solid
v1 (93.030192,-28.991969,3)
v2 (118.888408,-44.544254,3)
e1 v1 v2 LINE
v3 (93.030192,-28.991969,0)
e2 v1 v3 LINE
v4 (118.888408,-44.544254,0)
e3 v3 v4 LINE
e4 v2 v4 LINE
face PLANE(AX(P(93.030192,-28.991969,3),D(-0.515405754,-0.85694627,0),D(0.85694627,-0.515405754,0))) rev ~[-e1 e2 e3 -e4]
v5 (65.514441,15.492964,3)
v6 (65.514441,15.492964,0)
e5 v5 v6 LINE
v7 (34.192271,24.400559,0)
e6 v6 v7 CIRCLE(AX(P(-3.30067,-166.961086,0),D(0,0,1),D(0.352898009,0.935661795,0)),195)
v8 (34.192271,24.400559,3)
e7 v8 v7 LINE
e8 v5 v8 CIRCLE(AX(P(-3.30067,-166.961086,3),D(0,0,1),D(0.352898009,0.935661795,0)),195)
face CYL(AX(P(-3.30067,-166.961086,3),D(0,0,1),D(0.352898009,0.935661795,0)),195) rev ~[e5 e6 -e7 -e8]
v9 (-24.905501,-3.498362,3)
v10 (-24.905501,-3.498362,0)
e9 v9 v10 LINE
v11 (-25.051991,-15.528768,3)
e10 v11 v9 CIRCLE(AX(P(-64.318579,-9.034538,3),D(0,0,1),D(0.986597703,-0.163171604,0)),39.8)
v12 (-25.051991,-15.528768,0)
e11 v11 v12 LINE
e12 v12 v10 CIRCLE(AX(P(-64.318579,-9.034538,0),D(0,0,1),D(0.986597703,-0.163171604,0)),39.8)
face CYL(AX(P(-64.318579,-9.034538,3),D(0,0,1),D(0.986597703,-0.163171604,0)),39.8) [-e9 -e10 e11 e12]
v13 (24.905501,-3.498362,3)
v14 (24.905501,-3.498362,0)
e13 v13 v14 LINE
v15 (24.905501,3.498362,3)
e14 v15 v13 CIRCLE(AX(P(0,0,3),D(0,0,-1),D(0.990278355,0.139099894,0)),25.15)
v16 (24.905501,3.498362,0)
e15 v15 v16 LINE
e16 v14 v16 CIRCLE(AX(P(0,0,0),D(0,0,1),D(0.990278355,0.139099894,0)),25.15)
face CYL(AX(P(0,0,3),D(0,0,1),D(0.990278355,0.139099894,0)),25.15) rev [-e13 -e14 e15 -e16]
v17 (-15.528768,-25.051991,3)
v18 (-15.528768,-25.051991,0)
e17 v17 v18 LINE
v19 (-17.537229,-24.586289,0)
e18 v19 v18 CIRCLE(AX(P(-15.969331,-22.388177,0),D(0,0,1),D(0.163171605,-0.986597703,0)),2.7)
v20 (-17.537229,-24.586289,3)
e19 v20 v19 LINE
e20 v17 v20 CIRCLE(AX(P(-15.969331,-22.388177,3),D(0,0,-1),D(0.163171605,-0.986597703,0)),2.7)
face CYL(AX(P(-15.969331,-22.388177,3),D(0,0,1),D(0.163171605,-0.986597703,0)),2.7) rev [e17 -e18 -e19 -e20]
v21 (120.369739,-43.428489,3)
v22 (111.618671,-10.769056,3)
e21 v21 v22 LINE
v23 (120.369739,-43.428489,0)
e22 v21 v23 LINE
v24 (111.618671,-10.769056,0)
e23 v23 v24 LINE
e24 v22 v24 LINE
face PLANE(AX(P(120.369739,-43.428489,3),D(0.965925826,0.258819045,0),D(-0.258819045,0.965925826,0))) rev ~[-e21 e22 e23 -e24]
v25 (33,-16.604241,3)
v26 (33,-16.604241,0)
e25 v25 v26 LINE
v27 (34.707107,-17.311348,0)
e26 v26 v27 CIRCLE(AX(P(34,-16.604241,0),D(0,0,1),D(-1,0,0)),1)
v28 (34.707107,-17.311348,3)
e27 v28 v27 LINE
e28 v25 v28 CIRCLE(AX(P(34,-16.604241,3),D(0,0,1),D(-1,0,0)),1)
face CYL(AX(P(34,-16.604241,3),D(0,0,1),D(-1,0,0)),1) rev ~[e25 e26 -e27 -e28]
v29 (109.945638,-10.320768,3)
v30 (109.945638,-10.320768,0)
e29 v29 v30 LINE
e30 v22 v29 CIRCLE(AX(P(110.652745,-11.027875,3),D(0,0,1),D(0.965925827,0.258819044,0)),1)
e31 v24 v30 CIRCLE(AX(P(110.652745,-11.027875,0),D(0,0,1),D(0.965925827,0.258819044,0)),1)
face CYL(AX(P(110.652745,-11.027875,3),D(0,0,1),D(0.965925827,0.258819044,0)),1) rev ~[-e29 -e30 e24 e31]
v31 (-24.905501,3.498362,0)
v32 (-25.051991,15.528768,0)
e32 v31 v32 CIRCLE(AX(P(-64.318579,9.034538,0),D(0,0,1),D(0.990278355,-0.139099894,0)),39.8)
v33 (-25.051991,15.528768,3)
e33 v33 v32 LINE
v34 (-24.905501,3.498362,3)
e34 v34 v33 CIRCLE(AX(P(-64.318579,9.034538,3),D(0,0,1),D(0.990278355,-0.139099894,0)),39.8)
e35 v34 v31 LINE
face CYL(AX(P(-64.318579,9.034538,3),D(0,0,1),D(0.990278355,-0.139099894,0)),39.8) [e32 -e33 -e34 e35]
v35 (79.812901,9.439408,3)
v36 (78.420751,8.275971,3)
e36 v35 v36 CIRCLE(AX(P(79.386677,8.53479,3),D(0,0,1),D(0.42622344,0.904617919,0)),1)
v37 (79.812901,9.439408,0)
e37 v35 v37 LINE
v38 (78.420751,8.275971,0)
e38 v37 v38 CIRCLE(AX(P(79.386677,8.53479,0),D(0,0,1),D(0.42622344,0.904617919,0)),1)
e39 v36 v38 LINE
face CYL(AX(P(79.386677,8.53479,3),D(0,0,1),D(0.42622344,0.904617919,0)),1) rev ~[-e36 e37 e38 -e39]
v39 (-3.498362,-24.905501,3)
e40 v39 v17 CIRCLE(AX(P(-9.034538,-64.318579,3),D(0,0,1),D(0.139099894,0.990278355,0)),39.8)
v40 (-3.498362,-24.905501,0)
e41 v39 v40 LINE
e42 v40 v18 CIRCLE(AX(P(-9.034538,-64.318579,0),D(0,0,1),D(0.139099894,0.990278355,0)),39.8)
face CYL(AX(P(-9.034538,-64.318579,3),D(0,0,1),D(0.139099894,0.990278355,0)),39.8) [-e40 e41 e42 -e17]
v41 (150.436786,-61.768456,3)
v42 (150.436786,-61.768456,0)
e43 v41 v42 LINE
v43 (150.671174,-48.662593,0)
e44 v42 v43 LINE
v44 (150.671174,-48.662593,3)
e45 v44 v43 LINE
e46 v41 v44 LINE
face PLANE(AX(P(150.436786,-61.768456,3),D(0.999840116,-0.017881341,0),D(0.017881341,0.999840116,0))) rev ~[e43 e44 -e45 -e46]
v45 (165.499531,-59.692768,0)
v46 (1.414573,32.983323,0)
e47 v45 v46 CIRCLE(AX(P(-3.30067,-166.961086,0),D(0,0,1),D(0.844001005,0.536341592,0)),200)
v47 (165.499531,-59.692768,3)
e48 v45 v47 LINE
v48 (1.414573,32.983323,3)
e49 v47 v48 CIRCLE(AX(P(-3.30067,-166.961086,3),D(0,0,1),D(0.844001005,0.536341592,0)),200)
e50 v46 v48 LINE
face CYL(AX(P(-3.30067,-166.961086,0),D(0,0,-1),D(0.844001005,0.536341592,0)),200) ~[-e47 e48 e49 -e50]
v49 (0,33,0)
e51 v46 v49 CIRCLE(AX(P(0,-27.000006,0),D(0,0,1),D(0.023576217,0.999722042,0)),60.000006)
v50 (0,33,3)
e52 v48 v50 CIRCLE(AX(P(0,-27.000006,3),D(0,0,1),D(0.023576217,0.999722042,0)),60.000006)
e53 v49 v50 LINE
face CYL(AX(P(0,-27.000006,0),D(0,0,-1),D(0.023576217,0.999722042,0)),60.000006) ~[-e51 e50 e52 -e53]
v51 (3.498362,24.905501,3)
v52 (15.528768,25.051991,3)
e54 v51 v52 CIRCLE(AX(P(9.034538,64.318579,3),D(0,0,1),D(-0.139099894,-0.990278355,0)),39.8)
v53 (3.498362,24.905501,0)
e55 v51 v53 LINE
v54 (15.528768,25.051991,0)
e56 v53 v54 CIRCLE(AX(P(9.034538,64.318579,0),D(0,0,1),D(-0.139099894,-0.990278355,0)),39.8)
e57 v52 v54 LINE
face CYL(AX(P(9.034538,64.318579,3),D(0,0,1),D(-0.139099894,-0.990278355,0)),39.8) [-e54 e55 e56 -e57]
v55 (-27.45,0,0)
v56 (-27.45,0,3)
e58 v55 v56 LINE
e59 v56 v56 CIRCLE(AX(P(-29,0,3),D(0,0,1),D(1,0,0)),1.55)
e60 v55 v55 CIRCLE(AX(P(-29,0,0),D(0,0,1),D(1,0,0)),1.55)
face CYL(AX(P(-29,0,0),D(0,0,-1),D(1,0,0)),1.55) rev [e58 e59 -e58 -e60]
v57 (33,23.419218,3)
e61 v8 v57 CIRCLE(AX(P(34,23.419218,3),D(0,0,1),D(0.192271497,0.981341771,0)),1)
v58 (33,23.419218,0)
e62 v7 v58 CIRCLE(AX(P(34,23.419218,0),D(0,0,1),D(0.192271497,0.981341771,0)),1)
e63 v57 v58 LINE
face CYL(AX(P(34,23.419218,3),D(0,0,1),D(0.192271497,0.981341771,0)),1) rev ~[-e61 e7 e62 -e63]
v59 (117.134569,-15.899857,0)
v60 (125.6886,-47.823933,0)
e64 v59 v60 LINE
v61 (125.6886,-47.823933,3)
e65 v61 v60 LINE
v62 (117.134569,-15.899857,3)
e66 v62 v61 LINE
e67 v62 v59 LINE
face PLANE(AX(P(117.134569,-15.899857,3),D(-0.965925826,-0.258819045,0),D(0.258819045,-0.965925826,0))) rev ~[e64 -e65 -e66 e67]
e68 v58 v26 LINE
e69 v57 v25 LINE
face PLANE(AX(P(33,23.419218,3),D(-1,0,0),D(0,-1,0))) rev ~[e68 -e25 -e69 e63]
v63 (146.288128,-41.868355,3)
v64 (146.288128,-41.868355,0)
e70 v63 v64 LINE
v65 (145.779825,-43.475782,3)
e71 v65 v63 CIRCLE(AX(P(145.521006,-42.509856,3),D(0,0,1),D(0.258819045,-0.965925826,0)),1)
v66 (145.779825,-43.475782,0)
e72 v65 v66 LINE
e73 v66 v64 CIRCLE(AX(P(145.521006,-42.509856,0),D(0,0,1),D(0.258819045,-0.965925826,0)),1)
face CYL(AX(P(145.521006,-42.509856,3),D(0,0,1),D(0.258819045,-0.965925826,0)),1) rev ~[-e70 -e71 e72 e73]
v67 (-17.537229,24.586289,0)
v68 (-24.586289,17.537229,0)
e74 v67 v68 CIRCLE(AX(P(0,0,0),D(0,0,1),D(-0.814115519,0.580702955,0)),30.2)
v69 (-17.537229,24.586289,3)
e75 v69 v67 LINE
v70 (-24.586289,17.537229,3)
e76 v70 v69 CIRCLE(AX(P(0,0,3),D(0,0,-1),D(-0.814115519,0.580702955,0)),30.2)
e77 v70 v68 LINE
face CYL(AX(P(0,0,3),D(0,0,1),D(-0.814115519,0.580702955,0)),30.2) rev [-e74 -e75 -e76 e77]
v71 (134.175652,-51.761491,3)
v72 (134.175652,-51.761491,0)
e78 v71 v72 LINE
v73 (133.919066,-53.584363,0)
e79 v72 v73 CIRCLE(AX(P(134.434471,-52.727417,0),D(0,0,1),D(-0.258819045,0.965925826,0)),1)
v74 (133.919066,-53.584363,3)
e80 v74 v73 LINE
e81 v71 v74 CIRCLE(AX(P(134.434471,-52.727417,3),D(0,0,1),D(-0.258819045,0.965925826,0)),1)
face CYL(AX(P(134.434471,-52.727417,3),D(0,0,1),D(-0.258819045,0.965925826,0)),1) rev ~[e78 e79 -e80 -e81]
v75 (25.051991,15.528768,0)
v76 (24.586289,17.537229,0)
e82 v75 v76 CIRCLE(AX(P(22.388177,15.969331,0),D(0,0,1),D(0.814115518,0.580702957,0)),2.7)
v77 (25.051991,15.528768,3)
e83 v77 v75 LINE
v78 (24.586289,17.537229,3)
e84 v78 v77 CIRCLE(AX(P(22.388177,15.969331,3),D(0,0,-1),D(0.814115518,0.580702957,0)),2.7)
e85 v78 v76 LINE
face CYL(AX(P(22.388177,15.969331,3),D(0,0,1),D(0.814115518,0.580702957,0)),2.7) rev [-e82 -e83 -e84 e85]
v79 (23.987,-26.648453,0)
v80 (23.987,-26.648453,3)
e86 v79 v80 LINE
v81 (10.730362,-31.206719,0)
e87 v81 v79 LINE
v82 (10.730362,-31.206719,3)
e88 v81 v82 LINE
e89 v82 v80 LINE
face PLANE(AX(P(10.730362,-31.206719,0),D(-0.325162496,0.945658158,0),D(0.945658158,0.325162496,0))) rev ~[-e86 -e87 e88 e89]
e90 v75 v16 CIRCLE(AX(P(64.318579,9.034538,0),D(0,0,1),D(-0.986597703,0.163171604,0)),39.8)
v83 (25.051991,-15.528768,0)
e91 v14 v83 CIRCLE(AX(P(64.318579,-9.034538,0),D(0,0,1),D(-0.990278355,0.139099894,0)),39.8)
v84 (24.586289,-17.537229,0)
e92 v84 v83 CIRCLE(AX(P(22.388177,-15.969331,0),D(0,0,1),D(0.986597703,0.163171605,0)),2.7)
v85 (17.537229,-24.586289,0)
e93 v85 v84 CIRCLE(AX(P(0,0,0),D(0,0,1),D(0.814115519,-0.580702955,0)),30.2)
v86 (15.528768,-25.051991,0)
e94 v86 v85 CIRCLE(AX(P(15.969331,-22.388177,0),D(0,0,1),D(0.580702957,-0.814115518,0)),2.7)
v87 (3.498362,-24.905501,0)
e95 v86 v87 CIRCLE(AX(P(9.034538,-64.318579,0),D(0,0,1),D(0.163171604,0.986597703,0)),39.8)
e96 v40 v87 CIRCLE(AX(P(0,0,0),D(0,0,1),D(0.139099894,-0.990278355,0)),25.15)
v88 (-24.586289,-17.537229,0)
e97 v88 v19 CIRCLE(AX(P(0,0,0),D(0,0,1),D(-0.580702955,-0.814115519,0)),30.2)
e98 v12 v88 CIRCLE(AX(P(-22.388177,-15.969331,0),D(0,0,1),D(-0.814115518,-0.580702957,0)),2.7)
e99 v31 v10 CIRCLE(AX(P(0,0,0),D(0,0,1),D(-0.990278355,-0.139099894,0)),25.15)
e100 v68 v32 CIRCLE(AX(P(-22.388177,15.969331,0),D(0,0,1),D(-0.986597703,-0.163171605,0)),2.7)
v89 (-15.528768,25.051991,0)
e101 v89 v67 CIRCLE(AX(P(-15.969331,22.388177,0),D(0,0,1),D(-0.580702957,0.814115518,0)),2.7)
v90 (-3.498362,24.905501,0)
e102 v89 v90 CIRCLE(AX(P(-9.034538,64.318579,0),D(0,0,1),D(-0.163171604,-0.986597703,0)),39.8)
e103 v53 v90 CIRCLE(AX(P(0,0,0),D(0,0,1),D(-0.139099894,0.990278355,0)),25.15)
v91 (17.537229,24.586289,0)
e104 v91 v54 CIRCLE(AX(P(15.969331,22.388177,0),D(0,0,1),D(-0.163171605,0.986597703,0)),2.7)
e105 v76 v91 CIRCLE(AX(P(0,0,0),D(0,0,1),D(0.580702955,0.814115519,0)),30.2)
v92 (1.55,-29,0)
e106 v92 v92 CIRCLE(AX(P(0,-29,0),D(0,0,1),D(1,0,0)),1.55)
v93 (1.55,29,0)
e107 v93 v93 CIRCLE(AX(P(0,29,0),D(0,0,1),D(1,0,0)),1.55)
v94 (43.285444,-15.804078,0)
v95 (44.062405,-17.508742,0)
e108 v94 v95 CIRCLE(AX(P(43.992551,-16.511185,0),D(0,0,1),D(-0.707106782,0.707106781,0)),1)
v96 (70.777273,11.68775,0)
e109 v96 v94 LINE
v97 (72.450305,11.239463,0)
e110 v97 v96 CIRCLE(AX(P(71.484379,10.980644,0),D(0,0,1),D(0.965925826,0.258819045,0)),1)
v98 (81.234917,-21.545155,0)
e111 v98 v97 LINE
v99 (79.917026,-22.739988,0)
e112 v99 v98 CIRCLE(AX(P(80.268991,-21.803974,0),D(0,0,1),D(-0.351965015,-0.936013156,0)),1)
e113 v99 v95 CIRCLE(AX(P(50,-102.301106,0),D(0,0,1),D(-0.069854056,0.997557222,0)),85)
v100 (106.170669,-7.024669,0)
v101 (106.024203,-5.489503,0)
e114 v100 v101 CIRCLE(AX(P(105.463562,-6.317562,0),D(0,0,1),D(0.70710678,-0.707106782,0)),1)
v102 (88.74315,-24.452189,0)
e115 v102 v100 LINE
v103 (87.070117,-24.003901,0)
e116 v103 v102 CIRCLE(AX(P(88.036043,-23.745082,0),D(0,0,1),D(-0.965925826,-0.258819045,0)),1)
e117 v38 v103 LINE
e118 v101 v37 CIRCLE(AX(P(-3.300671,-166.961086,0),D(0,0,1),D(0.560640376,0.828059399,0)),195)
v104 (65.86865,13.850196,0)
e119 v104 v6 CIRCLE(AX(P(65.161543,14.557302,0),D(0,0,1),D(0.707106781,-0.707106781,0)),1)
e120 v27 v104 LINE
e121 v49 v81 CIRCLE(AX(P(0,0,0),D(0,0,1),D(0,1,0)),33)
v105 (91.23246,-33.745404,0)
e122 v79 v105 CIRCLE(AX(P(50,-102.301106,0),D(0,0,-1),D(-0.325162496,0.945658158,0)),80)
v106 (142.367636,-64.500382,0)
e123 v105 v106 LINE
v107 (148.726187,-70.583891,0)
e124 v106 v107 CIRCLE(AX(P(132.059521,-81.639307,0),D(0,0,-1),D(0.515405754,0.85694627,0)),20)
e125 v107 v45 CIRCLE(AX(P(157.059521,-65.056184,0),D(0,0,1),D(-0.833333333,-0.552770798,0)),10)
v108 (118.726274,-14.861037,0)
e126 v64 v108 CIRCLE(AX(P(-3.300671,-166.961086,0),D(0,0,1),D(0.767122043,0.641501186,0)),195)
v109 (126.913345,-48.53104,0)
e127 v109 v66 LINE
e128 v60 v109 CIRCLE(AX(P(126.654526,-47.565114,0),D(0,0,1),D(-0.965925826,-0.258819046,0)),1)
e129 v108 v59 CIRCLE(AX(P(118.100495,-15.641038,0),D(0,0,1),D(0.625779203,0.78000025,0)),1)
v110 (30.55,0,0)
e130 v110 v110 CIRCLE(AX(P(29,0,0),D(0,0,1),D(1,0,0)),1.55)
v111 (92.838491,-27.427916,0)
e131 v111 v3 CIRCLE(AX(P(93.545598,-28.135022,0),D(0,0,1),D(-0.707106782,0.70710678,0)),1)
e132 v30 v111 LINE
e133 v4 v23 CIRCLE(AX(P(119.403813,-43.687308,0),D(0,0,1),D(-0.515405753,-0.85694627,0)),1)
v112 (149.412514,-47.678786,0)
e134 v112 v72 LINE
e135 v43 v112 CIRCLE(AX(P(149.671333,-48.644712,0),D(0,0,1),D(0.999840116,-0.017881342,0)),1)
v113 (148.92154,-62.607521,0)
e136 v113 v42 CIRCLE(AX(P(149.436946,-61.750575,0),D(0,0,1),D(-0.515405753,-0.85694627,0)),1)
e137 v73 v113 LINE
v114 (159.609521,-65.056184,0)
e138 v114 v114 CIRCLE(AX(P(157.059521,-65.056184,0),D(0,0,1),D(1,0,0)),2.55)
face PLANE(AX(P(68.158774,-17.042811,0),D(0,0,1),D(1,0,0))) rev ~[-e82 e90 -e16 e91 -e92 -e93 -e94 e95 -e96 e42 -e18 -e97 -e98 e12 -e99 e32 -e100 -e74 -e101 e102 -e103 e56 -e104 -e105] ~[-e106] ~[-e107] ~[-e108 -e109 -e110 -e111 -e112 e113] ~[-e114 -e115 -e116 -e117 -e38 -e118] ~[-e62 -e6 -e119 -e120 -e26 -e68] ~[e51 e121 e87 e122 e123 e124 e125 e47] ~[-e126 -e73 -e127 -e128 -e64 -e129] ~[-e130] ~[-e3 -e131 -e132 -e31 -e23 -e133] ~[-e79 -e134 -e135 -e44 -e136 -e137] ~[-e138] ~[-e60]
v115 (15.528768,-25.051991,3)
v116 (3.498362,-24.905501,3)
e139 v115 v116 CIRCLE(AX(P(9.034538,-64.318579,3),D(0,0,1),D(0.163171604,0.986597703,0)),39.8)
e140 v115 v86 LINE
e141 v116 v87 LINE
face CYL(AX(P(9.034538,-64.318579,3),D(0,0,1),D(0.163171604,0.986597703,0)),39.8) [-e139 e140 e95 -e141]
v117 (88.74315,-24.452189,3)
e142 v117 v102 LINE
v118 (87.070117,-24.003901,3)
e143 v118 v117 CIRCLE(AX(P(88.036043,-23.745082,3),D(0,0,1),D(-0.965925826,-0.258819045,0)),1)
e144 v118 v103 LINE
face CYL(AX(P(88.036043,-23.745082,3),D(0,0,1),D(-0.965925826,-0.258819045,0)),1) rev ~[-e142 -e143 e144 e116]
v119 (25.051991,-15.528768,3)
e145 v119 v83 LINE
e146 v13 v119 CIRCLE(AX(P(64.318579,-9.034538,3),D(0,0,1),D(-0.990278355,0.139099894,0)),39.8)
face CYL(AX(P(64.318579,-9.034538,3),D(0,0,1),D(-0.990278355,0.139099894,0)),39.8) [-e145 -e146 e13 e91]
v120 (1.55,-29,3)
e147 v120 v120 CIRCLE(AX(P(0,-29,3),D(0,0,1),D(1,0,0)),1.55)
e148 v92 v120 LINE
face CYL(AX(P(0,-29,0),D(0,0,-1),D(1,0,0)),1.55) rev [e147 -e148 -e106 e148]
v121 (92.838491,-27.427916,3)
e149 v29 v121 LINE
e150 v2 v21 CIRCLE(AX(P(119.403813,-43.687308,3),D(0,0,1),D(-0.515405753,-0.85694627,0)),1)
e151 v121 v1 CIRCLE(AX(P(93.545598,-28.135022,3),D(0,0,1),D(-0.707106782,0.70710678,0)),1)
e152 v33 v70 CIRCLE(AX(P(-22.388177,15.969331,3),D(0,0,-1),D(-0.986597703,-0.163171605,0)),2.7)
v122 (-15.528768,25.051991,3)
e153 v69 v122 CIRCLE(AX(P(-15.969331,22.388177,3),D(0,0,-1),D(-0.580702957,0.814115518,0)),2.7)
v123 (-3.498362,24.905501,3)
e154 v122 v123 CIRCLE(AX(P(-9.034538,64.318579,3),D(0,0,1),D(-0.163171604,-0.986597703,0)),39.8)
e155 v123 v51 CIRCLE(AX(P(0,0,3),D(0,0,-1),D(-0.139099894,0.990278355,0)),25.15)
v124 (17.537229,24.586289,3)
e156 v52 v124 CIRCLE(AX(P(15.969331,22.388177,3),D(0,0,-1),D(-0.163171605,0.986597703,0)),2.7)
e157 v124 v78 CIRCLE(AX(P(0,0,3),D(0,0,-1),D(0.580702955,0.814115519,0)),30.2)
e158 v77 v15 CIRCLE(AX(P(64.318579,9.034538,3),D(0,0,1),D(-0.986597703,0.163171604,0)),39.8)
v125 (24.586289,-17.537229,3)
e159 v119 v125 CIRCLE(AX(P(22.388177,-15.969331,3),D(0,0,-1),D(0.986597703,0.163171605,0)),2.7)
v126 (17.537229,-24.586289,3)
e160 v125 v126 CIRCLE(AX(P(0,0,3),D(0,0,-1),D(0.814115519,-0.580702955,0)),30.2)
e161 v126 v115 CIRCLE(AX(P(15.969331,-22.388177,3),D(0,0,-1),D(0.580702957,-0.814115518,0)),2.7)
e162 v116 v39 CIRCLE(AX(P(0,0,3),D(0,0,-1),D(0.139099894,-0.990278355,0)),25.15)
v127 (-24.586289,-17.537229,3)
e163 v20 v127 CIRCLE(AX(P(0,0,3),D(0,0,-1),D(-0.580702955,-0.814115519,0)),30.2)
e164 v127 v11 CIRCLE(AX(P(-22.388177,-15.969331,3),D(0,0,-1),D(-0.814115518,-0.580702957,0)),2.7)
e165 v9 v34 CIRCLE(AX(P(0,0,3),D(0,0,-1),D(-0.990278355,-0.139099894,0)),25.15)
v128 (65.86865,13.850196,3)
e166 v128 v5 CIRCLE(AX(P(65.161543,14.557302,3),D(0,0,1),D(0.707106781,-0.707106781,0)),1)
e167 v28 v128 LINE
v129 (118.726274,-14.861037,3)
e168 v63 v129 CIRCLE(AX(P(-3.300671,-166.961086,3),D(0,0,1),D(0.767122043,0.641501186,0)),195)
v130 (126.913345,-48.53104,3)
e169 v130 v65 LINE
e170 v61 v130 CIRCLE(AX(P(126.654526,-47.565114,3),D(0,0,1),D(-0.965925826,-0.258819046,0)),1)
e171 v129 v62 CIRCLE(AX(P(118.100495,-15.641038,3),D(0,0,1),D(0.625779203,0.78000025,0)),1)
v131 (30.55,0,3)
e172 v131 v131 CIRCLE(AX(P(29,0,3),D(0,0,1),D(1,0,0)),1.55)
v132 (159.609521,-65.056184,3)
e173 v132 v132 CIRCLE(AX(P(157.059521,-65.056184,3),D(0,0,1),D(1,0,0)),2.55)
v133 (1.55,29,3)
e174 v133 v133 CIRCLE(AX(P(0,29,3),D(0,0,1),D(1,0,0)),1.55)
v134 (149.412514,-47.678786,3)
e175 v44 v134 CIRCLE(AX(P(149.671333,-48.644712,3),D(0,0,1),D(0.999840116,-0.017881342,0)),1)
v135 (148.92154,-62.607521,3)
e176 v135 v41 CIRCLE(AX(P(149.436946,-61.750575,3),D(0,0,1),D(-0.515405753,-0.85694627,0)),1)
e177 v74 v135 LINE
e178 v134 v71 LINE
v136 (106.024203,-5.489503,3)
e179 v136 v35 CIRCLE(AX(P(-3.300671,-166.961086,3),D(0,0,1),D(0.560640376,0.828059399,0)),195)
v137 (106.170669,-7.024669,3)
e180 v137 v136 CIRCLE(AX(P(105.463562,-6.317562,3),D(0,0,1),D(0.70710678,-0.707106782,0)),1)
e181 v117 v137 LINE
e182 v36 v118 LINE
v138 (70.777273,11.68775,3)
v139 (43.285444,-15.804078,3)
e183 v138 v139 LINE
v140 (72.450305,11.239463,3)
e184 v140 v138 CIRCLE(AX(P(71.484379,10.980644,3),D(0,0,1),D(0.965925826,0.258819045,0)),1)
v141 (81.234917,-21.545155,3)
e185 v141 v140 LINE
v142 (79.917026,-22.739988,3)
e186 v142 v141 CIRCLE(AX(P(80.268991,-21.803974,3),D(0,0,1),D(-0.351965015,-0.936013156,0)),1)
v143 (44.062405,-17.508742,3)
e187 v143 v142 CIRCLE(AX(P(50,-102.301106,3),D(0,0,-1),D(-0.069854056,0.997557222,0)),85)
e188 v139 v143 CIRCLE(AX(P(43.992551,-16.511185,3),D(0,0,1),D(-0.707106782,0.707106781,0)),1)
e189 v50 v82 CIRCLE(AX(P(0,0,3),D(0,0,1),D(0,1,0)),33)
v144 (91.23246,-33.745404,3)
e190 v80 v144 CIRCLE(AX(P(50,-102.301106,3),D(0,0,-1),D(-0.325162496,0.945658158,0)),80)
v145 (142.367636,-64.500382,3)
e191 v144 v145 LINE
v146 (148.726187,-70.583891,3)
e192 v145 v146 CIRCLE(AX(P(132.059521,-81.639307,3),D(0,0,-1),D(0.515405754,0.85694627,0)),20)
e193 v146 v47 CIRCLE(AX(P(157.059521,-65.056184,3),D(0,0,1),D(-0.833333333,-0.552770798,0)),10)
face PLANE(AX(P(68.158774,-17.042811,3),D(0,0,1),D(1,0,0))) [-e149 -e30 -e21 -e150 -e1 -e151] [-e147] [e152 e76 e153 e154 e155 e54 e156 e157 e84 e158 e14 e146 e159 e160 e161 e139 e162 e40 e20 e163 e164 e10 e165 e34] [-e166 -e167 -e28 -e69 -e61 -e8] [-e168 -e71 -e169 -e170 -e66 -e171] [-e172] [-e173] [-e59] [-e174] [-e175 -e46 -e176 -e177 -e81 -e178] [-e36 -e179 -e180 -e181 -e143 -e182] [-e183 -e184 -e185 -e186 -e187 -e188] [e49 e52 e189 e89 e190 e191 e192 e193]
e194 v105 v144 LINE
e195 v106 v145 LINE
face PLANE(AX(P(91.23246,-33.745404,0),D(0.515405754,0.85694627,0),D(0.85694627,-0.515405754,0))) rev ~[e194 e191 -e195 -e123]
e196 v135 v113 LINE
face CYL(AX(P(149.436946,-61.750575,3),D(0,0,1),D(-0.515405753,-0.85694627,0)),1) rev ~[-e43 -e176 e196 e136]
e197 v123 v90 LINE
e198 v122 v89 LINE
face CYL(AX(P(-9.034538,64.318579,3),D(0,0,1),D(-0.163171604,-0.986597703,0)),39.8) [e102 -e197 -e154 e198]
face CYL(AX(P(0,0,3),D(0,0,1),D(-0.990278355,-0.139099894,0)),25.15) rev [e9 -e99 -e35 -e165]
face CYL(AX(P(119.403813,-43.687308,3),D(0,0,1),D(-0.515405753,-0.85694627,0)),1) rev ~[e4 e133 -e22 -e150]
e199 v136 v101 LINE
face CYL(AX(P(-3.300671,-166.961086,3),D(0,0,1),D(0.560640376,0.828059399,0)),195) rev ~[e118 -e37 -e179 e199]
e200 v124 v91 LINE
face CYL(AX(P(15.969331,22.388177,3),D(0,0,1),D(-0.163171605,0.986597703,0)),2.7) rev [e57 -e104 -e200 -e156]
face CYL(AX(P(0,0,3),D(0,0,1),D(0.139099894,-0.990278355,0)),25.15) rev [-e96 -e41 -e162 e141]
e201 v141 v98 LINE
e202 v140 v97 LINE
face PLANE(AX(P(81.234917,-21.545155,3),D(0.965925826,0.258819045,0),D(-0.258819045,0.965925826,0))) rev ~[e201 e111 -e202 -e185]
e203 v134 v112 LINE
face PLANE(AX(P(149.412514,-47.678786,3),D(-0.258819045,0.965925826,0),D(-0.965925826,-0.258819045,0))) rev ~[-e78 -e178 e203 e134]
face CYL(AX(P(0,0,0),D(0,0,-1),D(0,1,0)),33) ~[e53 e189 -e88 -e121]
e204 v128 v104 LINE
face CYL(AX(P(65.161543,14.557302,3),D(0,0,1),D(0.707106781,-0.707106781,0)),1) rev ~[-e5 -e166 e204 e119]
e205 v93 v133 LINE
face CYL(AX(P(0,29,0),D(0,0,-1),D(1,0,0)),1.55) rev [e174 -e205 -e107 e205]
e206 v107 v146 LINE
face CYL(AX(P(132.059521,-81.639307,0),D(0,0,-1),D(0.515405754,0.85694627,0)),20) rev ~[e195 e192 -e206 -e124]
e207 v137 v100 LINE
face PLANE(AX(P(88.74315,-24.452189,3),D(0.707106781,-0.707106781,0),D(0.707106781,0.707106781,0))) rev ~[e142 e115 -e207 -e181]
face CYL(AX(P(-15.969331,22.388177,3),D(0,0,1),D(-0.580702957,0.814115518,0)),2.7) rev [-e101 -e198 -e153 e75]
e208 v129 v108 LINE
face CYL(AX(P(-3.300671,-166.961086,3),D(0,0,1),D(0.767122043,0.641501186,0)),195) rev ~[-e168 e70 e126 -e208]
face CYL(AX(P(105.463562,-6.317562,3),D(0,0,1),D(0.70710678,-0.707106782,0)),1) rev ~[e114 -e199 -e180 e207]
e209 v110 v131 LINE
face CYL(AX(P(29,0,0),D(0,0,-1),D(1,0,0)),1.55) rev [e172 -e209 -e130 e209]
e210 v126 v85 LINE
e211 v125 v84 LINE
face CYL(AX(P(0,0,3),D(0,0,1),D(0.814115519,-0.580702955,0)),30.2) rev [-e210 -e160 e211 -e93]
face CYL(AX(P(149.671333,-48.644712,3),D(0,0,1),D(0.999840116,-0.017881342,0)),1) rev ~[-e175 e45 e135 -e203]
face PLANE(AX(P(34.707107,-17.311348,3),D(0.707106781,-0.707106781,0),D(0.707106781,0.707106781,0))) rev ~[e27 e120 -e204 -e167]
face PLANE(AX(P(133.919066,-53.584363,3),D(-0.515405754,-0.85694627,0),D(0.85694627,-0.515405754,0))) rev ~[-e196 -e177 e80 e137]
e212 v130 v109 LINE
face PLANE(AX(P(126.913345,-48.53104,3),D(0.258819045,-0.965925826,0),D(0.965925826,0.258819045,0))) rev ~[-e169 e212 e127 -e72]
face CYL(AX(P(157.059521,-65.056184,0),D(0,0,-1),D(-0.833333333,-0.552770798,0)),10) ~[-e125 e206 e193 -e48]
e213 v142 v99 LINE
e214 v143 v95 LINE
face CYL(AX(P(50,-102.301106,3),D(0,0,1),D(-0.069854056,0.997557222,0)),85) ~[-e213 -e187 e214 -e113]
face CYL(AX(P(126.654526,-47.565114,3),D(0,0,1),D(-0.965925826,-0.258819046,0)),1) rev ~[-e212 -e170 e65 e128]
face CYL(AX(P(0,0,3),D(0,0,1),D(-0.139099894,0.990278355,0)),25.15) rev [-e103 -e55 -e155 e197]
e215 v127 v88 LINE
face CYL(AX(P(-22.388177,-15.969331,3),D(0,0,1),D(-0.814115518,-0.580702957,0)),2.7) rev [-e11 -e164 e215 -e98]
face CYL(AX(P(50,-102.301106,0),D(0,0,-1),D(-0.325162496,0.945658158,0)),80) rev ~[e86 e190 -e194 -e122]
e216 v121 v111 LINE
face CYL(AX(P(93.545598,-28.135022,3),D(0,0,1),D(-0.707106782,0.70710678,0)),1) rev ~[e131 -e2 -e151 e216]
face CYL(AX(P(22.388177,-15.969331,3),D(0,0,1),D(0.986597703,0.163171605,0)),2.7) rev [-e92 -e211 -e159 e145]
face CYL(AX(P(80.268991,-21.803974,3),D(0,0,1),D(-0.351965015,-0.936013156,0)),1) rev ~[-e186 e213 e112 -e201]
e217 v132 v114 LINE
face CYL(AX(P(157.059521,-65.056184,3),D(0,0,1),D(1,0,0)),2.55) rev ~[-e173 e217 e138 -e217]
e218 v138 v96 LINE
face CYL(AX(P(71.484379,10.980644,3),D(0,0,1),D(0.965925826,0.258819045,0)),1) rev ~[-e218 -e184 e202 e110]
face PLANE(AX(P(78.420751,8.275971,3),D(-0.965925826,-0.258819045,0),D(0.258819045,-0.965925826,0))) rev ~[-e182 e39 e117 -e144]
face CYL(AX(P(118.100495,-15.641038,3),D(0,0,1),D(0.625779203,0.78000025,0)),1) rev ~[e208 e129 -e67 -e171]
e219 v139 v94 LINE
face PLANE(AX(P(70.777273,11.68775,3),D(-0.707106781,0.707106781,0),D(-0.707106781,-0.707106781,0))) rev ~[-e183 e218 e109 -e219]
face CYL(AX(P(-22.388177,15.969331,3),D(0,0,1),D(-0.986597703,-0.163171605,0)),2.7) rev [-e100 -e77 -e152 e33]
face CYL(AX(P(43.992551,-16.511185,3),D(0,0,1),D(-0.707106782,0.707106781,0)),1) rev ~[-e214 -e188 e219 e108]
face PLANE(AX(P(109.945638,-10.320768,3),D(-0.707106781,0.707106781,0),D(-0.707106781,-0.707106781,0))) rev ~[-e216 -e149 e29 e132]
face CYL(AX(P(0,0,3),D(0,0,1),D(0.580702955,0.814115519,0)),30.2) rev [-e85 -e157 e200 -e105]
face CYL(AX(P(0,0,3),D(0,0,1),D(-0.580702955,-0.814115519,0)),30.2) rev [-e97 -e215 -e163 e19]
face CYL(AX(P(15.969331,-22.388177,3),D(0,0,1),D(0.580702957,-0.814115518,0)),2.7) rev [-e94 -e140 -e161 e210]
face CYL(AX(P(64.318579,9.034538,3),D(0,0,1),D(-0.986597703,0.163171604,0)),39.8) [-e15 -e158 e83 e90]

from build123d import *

# Parameters (mm, degrees)
SKETCH_2_R          = 1.55
EXTRUDE_1_DEPTH     = 3
SKETCH_7_R          = 2.55
CUT_EXTRUDE_2_DEPTH = 5
CUT_EXTRUDE_4_DEPTH = 184.170177924
CUT_EXTRUDE_5_DEPTH = 184.170177924


with BuildPart() as part:
    # 草图2 → 凸台-拉伸1 (new body)
    with BuildSketch(Plane.XY):
        with BuildLine():
            Line((10.730362356, -31.206719208), (23.987000349, -26.648453139))
            ThreePointArc((23.987000349, -26.648453139), (58.3964084, -22.742948884), (91.232460283, -33.745404185))
            Line((91.232460283, -33.745404185), (142.367635598, -64.500382059))
            ThreePointArc((142.367635598, -64.500382059), (145.885654628, -67.188078585), (148.726187194, -70.583891486))
            ThreePointArc((148.726187194, -70.583891486), (162.505343691, -73.443257489), (165.49953058, -59.692767585))
            ThreePointArc((165.49953058, -59.692767585), (95.05641772, 7.182197604), (1.414573065, 32.983322541))
            ThreePointArc((1.414573065, 32.983322541), (0.707335687, 32.99583049), (0, 33))
            ThreePointArc((0, 33), (-32.548592395, -5.439589421), (10.730362356, -31.206719208))
        make_face()
        with Locations((-29, 0)):
            Circle(SKETCH_2_R, mode=Mode.SUBTRACT)
        with Locations((0, 29)):
            Circle(SKETCH_2_R, mode=Mode.SUBTRACT)
        with Locations((0, -29)):
            Circle(SKETCH_2_R, mode=Mode.SUBTRACT)
        with Locations((29, 0)):
            Circle(SKETCH_2_R, mode=Mode.SUBTRACT)
        with BuildLine():
            ThreePointArc((-17.479158967, 24.504877103), (-21.283914114, 21.283914114), (-24.504877103, 17.479158967))
            ThreePointArc((-24.504877103, 17.479158967), (-24.920981627, 16.556612715), (-24.953330783, 15.545085111))
            ThreePointArc((-24.953330783, 15.545085111), (-24.421536801, 9.520350069), (-24.806472783, 3.484452336))
            ThreePointArc((-24.806472783, 3.484452336), (-25.05, 0), (-24.806472783, -3.484452336))
            ThreePointArc((-24.806472783, -3.484452336), (-24.421536801, -9.520350069), (-24.953330783, -15.545085111))
            ThreePointArc((-24.953330783, -15.545085111), (-24.920981627, -16.556612715), (-24.504877103, -17.479158967))
            ThreePointArc((-24.504877103, -17.479158967), (-21.283914114, -21.283914114), (-17.479158967, -24.504877103))
            ThreePointArc((-17.479158967, -24.504877103), (-16.556612715, -24.920981627), (-15.545085111, -24.953330783))
            ThreePointArc((-15.545085111, -24.953330783), (-9.520350069, -24.421536801), (-3.484452336, -24.806472783))
            ThreePointArc((-3.484452336, -24.806472783), (0, -25.05), (3.484452336, -24.806472783))
            ThreePointArc((3.484452336, -24.806472783), (9.520350069, -24.421536801), (15.545085111, -24.953330783))
            ThreePointArc((15.545085111, -24.953330783), (16.556612715, -24.920981627), (17.479158967, -24.504877103))
            ThreePointArc((17.479158967, -24.504877103), (21.283914114, -21.283914114), (24.504877103, -17.479158967))
            ThreePointArc((24.504877103, -17.479158967), (24.920981627, -16.556612715), (24.953330783, -15.545085111))
            ThreePointArc((24.953330783, -15.545085111), (24.421536801, -9.520350069), (24.806472783, -3.484452336))
            ThreePointArc((24.806472783, -3.484452336), (25.05, 0), (24.806472783, 3.484452336))
            ThreePointArc((24.806472783, 3.484452336), (24.421536801, 9.520350069), (24.953330783, 15.545085111))
            ThreePointArc((24.953330783, 15.545085111), (24.920981627, 16.556612715), (24.504877103, 17.479158967))
            ThreePointArc((24.504877103, 17.479158967), (21.283914114, 21.283914114), (17.479158967, 24.504877103))
            ThreePointArc((17.479158967, 24.504877103), (16.556612715, 24.920981627), (15.545085111, 24.953330783))
            ThreePointArc((15.545085111, 24.953330783), (9.520350069, 24.421536801), (3.484452336, 24.806472783))
            ThreePointArc((3.484452336, 24.806472783), (0, 25.05), (-3.484452336, 24.806472783))
            ThreePointArc((-3.484452336, 24.806472783), (-9.520350069, 24.421536801), (-15.545085111, 24.953330783))
            ThreePointArc((-15.545085111, 24.953330783), (-16.556612715, 24.920981627), (-17.479158967, 24.504877103))
        make_face(mode=Mode.SUBTRACT)
    extrude(amount=EXTRUDE_1_DEPTH)

    # 草图7 → 切除-拉伸2 (cut)
    with BuildSketch(Plane.XY.offset(3)):
        with Locations((157.059520527, -65.056183502)):
            Circle(SKETCH_7_R)
    extrude(amount=-CUT_EXTRUDE_2_DEPTH, mode=Mode.SUBTRACT)

    # 草图9 → 切除-拉伸4 (cut, through all)
    with BuildSketch(Plane.XY.offset(3)):
        with BuildLine():
            Line((33, 23.419217625), (33, -16.604240946))
            ThreePointArc((33, -16.604240946), (33.617316568, -17.528120479), (34.707106781, -17.311347728))
            Line((34.707106781, -17.311347728), (65.868650079, 13.85019557))
            ThreePointArc((65.868650079, 13.85019557), (66.139078304, 14.768075481), (65.514441307, 15.492964147))
            ThreePointArc((65.514441307, 15.492964147), (50.039622799, 20.601738513), (34.192271497, 24.400559396))
            ThreePointArc((34.192271497, 24.400559396), (33.364496852, 24.191315902), (33, 23.419217625))
        make_face()
        with BuildLine():
            Line((70.777272632, 11.687750311), (43.285444418, -15.804077902))
            ThreePointArc((43.285444418, -15.804077902), (43.082610213, -16.925922432), (44.062405255, -17.508741905))
            ThreePointArc((44.062405255, -17.508741905), (62.271705947, -18.191622153), (79.917026283, -22.739987506))
            ThreePointArc((79.917026283, -22.739987506), (80.940663068, -22.54482321), (81.234917124, -21.545155305))
            Line((81.234917124, -21.545155305), (72.450305239, 11.239462575))
            ThreePointArc((72.450305239, 11.239462575), (71.743198458, 11.946569356), (70.777272632, 11.687750311))
        make_face()
        with BuildLine():
            Line((78.420751264, 8.275971191), (87.070117002, -24.003901194))
            ThreePointArc((87.070117002, -24.003901194), (87.777223783, -24.711007975), (88.743149609, -24.45218893))
            Line((88.743149609, -24.45218893), (106.170669274, -7.024669265))
            ThreePointArc((106.170669274, -7.024669265), (106.459042033, -6.222586245), (106.024202869, -5.489503085))
            ThreePointArc((106.024202869, -5.489503085), (93.207654626, 2.482542409), (79.812900532, 9.439408155))
            ThreePointArc((79.812900532, 9.439408155), (78.745415788, 9.302112816), (78.420751264, 8.275971191))
        make_face()
        with BuildLine():
            Line((109.945638003, -10.320768348), (92.838490747, -27.427915604))
            ThreePointArc((92.838490747, -27.427915604), (92.553025259, -28.256678823), (93.030191775, -28.991968654))
            Line((93.030191775, -28.991968654), (118.888407737, -44.544254432))
            ThreePointArc((118.888407737, -44.544254432), (120.005457191, -44.486072744), (120.369739316, -43.428489117))
            Line((120.369739316, -43.428489117), (111.61867061, -10.769056085))
            ThreePointArc((111.61867061, -10.769056085), (110.911563829, -10.061949303), (109.945638003, -10.320768348))
        make_face()
        with BuildLine():
            Line((117.134569213, -15.899856701), (125.688599687, -47.823933039))
            ThreePointArc((125.688599687, -47.823933039), (126.154525513, -48.431139397), (126.913344559, -48.53103982))
            Line((126.913344559, -48.53103982), (145.779824835, -43.475781666))
            ThreePointArc((145.779824835, -43.475781666), (146.474470094, -42.811361762), (146.288127832, -41.868354653))
            ThreePointArc((146.288127832, -41.868354653), (133.176898235, -27.681248062), (118.726274243, -14.861037407))
            ThreePointArc((118.726274243, -14.861037407), (117.553950154, -14.803607846), (117.134569213, -15.899856701))
        make_face()
        with BuildLine():
            Line((149.412514403, -47.678786332), (134.175652373, -51.761491208))
            ThreePointArc((134.175652373, -51.761491208), (133.444233225, -52.588031523), (133.919065665, -53.584363304))
            Line((133.919065665, -53.584363304), (148.921539819, -62.607521196))
            ThreePointArc((148.921539819, -62.607521196), (149.921379935, -62.625402537), (150.436785689, -61.768456267))
            Line((150.436785689, -61.768456267), (150.671173564, -48.662593499))
            ThreePointArc((150.671173564, -48.662593499), (150.287163938, -47.856833482), (149.412514403, -47.678786332))
        make_face()
    extrude(amount=-CUT_EXTRUDE_4_DEPTH, mode=Mode.SUBTRACT)

    # 草图10 → 切除-拉伸5 (cut, through all)
    with BuildSketch(Plane.XY.offset(3)):
        with BuildLine():
            ThreePointArc((-3.498362326, -24.905500618), (-9.519132496, -24.521529388), (-15.52876795, -25.051990553))
            ThreePointArc((-15.52876795, -25.051990553), (-16.579200462, -25.018397199), (-17.537229262, -24.586288654))
            ThreePointArc((-17.537229262, -24.586288654), (-21.354624792, -21.354624792), (-24.586288654, -17.537229262))
            ThreePointArc((-24.586288654, -17.537229262), (-25.018397199, -16.579200462), (-25.051990553, -15.52876795))
            ThreePointArc((-25.051990553, -15.52876795), (-24.521529388, -9.519132496), (-24.905500618, -3.498362326))
            ThreePointArc((-24.905500618, -3.498362326), (-25.15, 0), (-24.905500618, 3.498362326))
            ThreePointArc((-24.905500618, 3.498362326), (-24.521529388, 9.519132496), (-25.051990553, 15.52876795))
            ThreePointArc((-25.051990553, 15.52876795), (-25.018397199, 16.579200462), (-24.586288654, 17.537229262))
            ThreePointArc((-24.586288654, 17.537229262), (-21.354624792, 21.354624792), (-17.537229262, 24.586288654))
            ThreePointArc((-17.537229262, 24.586288654), (-16.579200462, 25.018397199), (-15.52876795, 25.051990553))
            ThreePointArc((-15.52876795, 25.051990553), (-9.519132496, 24.521529388), (-3.498362326, 24.905500618))
            ThreePointArc((-3.498362326, 24.905500618), (0, 25.15), (3.498362326, 24.905500618))
            ThreePointArc((3.498362326, 24.905500618), (9.519132496, 24.521529388), (15.52876795, 25.051990553))
            ThreePointArc((15.52876795, 25.051990553), (16.579200462, 25.018397199), (17.537229262, 24.586288654))
            ThreePointArc((17.537229262, 24.586288654), (21.354624792, 21.354624792), (24.586288654, 17.537229262))
            ThreePointArc((24.586288654, 17.537229262), (25.018397199, 16.579200462), (25.051990553, 15.52876795))
            ThreePointArc((25.051990553, 15.52876795), (24.521529388, 9.519132496), (24.905500618, 3.498362326))
            ThreePointArc((24.905500618, 3.498362326), (25.15, 0), (24.905500618, -3.498362326))
            ThreePointArc((24.905500618, -3.498362326), (24.521529388, -9.519132496), (25.051990553, -15.52876795))
            ThreePointArc((25.051990553, -15.52876795), (25.018397199, -16.579200462), (24.586288654, -17.537229262))
            ThreePointArc((24.586288654, -17.537229262), (21.354624792, -21.354624792), (17.537229262, -24.586288654))
            ThreePointArc((17.537229262, -24.586288654), (16.579200462, -25.018397199), (15.52876795, -25.051990553))
            ThreePointArc((15.52876795, -25.051990553), (9.519132496, -24.521529388), (3.498362326, -24.905500618))
            ThreePointArc((3.498362326, -24.905500618), (0, -25.15), (-3.498362326, -24.905500618))
        make_face()
    extrude(amount=-CUT_EXTRUDE_5_DEPTH, mode=Mode.SUBTRACT)


solid = part.part
